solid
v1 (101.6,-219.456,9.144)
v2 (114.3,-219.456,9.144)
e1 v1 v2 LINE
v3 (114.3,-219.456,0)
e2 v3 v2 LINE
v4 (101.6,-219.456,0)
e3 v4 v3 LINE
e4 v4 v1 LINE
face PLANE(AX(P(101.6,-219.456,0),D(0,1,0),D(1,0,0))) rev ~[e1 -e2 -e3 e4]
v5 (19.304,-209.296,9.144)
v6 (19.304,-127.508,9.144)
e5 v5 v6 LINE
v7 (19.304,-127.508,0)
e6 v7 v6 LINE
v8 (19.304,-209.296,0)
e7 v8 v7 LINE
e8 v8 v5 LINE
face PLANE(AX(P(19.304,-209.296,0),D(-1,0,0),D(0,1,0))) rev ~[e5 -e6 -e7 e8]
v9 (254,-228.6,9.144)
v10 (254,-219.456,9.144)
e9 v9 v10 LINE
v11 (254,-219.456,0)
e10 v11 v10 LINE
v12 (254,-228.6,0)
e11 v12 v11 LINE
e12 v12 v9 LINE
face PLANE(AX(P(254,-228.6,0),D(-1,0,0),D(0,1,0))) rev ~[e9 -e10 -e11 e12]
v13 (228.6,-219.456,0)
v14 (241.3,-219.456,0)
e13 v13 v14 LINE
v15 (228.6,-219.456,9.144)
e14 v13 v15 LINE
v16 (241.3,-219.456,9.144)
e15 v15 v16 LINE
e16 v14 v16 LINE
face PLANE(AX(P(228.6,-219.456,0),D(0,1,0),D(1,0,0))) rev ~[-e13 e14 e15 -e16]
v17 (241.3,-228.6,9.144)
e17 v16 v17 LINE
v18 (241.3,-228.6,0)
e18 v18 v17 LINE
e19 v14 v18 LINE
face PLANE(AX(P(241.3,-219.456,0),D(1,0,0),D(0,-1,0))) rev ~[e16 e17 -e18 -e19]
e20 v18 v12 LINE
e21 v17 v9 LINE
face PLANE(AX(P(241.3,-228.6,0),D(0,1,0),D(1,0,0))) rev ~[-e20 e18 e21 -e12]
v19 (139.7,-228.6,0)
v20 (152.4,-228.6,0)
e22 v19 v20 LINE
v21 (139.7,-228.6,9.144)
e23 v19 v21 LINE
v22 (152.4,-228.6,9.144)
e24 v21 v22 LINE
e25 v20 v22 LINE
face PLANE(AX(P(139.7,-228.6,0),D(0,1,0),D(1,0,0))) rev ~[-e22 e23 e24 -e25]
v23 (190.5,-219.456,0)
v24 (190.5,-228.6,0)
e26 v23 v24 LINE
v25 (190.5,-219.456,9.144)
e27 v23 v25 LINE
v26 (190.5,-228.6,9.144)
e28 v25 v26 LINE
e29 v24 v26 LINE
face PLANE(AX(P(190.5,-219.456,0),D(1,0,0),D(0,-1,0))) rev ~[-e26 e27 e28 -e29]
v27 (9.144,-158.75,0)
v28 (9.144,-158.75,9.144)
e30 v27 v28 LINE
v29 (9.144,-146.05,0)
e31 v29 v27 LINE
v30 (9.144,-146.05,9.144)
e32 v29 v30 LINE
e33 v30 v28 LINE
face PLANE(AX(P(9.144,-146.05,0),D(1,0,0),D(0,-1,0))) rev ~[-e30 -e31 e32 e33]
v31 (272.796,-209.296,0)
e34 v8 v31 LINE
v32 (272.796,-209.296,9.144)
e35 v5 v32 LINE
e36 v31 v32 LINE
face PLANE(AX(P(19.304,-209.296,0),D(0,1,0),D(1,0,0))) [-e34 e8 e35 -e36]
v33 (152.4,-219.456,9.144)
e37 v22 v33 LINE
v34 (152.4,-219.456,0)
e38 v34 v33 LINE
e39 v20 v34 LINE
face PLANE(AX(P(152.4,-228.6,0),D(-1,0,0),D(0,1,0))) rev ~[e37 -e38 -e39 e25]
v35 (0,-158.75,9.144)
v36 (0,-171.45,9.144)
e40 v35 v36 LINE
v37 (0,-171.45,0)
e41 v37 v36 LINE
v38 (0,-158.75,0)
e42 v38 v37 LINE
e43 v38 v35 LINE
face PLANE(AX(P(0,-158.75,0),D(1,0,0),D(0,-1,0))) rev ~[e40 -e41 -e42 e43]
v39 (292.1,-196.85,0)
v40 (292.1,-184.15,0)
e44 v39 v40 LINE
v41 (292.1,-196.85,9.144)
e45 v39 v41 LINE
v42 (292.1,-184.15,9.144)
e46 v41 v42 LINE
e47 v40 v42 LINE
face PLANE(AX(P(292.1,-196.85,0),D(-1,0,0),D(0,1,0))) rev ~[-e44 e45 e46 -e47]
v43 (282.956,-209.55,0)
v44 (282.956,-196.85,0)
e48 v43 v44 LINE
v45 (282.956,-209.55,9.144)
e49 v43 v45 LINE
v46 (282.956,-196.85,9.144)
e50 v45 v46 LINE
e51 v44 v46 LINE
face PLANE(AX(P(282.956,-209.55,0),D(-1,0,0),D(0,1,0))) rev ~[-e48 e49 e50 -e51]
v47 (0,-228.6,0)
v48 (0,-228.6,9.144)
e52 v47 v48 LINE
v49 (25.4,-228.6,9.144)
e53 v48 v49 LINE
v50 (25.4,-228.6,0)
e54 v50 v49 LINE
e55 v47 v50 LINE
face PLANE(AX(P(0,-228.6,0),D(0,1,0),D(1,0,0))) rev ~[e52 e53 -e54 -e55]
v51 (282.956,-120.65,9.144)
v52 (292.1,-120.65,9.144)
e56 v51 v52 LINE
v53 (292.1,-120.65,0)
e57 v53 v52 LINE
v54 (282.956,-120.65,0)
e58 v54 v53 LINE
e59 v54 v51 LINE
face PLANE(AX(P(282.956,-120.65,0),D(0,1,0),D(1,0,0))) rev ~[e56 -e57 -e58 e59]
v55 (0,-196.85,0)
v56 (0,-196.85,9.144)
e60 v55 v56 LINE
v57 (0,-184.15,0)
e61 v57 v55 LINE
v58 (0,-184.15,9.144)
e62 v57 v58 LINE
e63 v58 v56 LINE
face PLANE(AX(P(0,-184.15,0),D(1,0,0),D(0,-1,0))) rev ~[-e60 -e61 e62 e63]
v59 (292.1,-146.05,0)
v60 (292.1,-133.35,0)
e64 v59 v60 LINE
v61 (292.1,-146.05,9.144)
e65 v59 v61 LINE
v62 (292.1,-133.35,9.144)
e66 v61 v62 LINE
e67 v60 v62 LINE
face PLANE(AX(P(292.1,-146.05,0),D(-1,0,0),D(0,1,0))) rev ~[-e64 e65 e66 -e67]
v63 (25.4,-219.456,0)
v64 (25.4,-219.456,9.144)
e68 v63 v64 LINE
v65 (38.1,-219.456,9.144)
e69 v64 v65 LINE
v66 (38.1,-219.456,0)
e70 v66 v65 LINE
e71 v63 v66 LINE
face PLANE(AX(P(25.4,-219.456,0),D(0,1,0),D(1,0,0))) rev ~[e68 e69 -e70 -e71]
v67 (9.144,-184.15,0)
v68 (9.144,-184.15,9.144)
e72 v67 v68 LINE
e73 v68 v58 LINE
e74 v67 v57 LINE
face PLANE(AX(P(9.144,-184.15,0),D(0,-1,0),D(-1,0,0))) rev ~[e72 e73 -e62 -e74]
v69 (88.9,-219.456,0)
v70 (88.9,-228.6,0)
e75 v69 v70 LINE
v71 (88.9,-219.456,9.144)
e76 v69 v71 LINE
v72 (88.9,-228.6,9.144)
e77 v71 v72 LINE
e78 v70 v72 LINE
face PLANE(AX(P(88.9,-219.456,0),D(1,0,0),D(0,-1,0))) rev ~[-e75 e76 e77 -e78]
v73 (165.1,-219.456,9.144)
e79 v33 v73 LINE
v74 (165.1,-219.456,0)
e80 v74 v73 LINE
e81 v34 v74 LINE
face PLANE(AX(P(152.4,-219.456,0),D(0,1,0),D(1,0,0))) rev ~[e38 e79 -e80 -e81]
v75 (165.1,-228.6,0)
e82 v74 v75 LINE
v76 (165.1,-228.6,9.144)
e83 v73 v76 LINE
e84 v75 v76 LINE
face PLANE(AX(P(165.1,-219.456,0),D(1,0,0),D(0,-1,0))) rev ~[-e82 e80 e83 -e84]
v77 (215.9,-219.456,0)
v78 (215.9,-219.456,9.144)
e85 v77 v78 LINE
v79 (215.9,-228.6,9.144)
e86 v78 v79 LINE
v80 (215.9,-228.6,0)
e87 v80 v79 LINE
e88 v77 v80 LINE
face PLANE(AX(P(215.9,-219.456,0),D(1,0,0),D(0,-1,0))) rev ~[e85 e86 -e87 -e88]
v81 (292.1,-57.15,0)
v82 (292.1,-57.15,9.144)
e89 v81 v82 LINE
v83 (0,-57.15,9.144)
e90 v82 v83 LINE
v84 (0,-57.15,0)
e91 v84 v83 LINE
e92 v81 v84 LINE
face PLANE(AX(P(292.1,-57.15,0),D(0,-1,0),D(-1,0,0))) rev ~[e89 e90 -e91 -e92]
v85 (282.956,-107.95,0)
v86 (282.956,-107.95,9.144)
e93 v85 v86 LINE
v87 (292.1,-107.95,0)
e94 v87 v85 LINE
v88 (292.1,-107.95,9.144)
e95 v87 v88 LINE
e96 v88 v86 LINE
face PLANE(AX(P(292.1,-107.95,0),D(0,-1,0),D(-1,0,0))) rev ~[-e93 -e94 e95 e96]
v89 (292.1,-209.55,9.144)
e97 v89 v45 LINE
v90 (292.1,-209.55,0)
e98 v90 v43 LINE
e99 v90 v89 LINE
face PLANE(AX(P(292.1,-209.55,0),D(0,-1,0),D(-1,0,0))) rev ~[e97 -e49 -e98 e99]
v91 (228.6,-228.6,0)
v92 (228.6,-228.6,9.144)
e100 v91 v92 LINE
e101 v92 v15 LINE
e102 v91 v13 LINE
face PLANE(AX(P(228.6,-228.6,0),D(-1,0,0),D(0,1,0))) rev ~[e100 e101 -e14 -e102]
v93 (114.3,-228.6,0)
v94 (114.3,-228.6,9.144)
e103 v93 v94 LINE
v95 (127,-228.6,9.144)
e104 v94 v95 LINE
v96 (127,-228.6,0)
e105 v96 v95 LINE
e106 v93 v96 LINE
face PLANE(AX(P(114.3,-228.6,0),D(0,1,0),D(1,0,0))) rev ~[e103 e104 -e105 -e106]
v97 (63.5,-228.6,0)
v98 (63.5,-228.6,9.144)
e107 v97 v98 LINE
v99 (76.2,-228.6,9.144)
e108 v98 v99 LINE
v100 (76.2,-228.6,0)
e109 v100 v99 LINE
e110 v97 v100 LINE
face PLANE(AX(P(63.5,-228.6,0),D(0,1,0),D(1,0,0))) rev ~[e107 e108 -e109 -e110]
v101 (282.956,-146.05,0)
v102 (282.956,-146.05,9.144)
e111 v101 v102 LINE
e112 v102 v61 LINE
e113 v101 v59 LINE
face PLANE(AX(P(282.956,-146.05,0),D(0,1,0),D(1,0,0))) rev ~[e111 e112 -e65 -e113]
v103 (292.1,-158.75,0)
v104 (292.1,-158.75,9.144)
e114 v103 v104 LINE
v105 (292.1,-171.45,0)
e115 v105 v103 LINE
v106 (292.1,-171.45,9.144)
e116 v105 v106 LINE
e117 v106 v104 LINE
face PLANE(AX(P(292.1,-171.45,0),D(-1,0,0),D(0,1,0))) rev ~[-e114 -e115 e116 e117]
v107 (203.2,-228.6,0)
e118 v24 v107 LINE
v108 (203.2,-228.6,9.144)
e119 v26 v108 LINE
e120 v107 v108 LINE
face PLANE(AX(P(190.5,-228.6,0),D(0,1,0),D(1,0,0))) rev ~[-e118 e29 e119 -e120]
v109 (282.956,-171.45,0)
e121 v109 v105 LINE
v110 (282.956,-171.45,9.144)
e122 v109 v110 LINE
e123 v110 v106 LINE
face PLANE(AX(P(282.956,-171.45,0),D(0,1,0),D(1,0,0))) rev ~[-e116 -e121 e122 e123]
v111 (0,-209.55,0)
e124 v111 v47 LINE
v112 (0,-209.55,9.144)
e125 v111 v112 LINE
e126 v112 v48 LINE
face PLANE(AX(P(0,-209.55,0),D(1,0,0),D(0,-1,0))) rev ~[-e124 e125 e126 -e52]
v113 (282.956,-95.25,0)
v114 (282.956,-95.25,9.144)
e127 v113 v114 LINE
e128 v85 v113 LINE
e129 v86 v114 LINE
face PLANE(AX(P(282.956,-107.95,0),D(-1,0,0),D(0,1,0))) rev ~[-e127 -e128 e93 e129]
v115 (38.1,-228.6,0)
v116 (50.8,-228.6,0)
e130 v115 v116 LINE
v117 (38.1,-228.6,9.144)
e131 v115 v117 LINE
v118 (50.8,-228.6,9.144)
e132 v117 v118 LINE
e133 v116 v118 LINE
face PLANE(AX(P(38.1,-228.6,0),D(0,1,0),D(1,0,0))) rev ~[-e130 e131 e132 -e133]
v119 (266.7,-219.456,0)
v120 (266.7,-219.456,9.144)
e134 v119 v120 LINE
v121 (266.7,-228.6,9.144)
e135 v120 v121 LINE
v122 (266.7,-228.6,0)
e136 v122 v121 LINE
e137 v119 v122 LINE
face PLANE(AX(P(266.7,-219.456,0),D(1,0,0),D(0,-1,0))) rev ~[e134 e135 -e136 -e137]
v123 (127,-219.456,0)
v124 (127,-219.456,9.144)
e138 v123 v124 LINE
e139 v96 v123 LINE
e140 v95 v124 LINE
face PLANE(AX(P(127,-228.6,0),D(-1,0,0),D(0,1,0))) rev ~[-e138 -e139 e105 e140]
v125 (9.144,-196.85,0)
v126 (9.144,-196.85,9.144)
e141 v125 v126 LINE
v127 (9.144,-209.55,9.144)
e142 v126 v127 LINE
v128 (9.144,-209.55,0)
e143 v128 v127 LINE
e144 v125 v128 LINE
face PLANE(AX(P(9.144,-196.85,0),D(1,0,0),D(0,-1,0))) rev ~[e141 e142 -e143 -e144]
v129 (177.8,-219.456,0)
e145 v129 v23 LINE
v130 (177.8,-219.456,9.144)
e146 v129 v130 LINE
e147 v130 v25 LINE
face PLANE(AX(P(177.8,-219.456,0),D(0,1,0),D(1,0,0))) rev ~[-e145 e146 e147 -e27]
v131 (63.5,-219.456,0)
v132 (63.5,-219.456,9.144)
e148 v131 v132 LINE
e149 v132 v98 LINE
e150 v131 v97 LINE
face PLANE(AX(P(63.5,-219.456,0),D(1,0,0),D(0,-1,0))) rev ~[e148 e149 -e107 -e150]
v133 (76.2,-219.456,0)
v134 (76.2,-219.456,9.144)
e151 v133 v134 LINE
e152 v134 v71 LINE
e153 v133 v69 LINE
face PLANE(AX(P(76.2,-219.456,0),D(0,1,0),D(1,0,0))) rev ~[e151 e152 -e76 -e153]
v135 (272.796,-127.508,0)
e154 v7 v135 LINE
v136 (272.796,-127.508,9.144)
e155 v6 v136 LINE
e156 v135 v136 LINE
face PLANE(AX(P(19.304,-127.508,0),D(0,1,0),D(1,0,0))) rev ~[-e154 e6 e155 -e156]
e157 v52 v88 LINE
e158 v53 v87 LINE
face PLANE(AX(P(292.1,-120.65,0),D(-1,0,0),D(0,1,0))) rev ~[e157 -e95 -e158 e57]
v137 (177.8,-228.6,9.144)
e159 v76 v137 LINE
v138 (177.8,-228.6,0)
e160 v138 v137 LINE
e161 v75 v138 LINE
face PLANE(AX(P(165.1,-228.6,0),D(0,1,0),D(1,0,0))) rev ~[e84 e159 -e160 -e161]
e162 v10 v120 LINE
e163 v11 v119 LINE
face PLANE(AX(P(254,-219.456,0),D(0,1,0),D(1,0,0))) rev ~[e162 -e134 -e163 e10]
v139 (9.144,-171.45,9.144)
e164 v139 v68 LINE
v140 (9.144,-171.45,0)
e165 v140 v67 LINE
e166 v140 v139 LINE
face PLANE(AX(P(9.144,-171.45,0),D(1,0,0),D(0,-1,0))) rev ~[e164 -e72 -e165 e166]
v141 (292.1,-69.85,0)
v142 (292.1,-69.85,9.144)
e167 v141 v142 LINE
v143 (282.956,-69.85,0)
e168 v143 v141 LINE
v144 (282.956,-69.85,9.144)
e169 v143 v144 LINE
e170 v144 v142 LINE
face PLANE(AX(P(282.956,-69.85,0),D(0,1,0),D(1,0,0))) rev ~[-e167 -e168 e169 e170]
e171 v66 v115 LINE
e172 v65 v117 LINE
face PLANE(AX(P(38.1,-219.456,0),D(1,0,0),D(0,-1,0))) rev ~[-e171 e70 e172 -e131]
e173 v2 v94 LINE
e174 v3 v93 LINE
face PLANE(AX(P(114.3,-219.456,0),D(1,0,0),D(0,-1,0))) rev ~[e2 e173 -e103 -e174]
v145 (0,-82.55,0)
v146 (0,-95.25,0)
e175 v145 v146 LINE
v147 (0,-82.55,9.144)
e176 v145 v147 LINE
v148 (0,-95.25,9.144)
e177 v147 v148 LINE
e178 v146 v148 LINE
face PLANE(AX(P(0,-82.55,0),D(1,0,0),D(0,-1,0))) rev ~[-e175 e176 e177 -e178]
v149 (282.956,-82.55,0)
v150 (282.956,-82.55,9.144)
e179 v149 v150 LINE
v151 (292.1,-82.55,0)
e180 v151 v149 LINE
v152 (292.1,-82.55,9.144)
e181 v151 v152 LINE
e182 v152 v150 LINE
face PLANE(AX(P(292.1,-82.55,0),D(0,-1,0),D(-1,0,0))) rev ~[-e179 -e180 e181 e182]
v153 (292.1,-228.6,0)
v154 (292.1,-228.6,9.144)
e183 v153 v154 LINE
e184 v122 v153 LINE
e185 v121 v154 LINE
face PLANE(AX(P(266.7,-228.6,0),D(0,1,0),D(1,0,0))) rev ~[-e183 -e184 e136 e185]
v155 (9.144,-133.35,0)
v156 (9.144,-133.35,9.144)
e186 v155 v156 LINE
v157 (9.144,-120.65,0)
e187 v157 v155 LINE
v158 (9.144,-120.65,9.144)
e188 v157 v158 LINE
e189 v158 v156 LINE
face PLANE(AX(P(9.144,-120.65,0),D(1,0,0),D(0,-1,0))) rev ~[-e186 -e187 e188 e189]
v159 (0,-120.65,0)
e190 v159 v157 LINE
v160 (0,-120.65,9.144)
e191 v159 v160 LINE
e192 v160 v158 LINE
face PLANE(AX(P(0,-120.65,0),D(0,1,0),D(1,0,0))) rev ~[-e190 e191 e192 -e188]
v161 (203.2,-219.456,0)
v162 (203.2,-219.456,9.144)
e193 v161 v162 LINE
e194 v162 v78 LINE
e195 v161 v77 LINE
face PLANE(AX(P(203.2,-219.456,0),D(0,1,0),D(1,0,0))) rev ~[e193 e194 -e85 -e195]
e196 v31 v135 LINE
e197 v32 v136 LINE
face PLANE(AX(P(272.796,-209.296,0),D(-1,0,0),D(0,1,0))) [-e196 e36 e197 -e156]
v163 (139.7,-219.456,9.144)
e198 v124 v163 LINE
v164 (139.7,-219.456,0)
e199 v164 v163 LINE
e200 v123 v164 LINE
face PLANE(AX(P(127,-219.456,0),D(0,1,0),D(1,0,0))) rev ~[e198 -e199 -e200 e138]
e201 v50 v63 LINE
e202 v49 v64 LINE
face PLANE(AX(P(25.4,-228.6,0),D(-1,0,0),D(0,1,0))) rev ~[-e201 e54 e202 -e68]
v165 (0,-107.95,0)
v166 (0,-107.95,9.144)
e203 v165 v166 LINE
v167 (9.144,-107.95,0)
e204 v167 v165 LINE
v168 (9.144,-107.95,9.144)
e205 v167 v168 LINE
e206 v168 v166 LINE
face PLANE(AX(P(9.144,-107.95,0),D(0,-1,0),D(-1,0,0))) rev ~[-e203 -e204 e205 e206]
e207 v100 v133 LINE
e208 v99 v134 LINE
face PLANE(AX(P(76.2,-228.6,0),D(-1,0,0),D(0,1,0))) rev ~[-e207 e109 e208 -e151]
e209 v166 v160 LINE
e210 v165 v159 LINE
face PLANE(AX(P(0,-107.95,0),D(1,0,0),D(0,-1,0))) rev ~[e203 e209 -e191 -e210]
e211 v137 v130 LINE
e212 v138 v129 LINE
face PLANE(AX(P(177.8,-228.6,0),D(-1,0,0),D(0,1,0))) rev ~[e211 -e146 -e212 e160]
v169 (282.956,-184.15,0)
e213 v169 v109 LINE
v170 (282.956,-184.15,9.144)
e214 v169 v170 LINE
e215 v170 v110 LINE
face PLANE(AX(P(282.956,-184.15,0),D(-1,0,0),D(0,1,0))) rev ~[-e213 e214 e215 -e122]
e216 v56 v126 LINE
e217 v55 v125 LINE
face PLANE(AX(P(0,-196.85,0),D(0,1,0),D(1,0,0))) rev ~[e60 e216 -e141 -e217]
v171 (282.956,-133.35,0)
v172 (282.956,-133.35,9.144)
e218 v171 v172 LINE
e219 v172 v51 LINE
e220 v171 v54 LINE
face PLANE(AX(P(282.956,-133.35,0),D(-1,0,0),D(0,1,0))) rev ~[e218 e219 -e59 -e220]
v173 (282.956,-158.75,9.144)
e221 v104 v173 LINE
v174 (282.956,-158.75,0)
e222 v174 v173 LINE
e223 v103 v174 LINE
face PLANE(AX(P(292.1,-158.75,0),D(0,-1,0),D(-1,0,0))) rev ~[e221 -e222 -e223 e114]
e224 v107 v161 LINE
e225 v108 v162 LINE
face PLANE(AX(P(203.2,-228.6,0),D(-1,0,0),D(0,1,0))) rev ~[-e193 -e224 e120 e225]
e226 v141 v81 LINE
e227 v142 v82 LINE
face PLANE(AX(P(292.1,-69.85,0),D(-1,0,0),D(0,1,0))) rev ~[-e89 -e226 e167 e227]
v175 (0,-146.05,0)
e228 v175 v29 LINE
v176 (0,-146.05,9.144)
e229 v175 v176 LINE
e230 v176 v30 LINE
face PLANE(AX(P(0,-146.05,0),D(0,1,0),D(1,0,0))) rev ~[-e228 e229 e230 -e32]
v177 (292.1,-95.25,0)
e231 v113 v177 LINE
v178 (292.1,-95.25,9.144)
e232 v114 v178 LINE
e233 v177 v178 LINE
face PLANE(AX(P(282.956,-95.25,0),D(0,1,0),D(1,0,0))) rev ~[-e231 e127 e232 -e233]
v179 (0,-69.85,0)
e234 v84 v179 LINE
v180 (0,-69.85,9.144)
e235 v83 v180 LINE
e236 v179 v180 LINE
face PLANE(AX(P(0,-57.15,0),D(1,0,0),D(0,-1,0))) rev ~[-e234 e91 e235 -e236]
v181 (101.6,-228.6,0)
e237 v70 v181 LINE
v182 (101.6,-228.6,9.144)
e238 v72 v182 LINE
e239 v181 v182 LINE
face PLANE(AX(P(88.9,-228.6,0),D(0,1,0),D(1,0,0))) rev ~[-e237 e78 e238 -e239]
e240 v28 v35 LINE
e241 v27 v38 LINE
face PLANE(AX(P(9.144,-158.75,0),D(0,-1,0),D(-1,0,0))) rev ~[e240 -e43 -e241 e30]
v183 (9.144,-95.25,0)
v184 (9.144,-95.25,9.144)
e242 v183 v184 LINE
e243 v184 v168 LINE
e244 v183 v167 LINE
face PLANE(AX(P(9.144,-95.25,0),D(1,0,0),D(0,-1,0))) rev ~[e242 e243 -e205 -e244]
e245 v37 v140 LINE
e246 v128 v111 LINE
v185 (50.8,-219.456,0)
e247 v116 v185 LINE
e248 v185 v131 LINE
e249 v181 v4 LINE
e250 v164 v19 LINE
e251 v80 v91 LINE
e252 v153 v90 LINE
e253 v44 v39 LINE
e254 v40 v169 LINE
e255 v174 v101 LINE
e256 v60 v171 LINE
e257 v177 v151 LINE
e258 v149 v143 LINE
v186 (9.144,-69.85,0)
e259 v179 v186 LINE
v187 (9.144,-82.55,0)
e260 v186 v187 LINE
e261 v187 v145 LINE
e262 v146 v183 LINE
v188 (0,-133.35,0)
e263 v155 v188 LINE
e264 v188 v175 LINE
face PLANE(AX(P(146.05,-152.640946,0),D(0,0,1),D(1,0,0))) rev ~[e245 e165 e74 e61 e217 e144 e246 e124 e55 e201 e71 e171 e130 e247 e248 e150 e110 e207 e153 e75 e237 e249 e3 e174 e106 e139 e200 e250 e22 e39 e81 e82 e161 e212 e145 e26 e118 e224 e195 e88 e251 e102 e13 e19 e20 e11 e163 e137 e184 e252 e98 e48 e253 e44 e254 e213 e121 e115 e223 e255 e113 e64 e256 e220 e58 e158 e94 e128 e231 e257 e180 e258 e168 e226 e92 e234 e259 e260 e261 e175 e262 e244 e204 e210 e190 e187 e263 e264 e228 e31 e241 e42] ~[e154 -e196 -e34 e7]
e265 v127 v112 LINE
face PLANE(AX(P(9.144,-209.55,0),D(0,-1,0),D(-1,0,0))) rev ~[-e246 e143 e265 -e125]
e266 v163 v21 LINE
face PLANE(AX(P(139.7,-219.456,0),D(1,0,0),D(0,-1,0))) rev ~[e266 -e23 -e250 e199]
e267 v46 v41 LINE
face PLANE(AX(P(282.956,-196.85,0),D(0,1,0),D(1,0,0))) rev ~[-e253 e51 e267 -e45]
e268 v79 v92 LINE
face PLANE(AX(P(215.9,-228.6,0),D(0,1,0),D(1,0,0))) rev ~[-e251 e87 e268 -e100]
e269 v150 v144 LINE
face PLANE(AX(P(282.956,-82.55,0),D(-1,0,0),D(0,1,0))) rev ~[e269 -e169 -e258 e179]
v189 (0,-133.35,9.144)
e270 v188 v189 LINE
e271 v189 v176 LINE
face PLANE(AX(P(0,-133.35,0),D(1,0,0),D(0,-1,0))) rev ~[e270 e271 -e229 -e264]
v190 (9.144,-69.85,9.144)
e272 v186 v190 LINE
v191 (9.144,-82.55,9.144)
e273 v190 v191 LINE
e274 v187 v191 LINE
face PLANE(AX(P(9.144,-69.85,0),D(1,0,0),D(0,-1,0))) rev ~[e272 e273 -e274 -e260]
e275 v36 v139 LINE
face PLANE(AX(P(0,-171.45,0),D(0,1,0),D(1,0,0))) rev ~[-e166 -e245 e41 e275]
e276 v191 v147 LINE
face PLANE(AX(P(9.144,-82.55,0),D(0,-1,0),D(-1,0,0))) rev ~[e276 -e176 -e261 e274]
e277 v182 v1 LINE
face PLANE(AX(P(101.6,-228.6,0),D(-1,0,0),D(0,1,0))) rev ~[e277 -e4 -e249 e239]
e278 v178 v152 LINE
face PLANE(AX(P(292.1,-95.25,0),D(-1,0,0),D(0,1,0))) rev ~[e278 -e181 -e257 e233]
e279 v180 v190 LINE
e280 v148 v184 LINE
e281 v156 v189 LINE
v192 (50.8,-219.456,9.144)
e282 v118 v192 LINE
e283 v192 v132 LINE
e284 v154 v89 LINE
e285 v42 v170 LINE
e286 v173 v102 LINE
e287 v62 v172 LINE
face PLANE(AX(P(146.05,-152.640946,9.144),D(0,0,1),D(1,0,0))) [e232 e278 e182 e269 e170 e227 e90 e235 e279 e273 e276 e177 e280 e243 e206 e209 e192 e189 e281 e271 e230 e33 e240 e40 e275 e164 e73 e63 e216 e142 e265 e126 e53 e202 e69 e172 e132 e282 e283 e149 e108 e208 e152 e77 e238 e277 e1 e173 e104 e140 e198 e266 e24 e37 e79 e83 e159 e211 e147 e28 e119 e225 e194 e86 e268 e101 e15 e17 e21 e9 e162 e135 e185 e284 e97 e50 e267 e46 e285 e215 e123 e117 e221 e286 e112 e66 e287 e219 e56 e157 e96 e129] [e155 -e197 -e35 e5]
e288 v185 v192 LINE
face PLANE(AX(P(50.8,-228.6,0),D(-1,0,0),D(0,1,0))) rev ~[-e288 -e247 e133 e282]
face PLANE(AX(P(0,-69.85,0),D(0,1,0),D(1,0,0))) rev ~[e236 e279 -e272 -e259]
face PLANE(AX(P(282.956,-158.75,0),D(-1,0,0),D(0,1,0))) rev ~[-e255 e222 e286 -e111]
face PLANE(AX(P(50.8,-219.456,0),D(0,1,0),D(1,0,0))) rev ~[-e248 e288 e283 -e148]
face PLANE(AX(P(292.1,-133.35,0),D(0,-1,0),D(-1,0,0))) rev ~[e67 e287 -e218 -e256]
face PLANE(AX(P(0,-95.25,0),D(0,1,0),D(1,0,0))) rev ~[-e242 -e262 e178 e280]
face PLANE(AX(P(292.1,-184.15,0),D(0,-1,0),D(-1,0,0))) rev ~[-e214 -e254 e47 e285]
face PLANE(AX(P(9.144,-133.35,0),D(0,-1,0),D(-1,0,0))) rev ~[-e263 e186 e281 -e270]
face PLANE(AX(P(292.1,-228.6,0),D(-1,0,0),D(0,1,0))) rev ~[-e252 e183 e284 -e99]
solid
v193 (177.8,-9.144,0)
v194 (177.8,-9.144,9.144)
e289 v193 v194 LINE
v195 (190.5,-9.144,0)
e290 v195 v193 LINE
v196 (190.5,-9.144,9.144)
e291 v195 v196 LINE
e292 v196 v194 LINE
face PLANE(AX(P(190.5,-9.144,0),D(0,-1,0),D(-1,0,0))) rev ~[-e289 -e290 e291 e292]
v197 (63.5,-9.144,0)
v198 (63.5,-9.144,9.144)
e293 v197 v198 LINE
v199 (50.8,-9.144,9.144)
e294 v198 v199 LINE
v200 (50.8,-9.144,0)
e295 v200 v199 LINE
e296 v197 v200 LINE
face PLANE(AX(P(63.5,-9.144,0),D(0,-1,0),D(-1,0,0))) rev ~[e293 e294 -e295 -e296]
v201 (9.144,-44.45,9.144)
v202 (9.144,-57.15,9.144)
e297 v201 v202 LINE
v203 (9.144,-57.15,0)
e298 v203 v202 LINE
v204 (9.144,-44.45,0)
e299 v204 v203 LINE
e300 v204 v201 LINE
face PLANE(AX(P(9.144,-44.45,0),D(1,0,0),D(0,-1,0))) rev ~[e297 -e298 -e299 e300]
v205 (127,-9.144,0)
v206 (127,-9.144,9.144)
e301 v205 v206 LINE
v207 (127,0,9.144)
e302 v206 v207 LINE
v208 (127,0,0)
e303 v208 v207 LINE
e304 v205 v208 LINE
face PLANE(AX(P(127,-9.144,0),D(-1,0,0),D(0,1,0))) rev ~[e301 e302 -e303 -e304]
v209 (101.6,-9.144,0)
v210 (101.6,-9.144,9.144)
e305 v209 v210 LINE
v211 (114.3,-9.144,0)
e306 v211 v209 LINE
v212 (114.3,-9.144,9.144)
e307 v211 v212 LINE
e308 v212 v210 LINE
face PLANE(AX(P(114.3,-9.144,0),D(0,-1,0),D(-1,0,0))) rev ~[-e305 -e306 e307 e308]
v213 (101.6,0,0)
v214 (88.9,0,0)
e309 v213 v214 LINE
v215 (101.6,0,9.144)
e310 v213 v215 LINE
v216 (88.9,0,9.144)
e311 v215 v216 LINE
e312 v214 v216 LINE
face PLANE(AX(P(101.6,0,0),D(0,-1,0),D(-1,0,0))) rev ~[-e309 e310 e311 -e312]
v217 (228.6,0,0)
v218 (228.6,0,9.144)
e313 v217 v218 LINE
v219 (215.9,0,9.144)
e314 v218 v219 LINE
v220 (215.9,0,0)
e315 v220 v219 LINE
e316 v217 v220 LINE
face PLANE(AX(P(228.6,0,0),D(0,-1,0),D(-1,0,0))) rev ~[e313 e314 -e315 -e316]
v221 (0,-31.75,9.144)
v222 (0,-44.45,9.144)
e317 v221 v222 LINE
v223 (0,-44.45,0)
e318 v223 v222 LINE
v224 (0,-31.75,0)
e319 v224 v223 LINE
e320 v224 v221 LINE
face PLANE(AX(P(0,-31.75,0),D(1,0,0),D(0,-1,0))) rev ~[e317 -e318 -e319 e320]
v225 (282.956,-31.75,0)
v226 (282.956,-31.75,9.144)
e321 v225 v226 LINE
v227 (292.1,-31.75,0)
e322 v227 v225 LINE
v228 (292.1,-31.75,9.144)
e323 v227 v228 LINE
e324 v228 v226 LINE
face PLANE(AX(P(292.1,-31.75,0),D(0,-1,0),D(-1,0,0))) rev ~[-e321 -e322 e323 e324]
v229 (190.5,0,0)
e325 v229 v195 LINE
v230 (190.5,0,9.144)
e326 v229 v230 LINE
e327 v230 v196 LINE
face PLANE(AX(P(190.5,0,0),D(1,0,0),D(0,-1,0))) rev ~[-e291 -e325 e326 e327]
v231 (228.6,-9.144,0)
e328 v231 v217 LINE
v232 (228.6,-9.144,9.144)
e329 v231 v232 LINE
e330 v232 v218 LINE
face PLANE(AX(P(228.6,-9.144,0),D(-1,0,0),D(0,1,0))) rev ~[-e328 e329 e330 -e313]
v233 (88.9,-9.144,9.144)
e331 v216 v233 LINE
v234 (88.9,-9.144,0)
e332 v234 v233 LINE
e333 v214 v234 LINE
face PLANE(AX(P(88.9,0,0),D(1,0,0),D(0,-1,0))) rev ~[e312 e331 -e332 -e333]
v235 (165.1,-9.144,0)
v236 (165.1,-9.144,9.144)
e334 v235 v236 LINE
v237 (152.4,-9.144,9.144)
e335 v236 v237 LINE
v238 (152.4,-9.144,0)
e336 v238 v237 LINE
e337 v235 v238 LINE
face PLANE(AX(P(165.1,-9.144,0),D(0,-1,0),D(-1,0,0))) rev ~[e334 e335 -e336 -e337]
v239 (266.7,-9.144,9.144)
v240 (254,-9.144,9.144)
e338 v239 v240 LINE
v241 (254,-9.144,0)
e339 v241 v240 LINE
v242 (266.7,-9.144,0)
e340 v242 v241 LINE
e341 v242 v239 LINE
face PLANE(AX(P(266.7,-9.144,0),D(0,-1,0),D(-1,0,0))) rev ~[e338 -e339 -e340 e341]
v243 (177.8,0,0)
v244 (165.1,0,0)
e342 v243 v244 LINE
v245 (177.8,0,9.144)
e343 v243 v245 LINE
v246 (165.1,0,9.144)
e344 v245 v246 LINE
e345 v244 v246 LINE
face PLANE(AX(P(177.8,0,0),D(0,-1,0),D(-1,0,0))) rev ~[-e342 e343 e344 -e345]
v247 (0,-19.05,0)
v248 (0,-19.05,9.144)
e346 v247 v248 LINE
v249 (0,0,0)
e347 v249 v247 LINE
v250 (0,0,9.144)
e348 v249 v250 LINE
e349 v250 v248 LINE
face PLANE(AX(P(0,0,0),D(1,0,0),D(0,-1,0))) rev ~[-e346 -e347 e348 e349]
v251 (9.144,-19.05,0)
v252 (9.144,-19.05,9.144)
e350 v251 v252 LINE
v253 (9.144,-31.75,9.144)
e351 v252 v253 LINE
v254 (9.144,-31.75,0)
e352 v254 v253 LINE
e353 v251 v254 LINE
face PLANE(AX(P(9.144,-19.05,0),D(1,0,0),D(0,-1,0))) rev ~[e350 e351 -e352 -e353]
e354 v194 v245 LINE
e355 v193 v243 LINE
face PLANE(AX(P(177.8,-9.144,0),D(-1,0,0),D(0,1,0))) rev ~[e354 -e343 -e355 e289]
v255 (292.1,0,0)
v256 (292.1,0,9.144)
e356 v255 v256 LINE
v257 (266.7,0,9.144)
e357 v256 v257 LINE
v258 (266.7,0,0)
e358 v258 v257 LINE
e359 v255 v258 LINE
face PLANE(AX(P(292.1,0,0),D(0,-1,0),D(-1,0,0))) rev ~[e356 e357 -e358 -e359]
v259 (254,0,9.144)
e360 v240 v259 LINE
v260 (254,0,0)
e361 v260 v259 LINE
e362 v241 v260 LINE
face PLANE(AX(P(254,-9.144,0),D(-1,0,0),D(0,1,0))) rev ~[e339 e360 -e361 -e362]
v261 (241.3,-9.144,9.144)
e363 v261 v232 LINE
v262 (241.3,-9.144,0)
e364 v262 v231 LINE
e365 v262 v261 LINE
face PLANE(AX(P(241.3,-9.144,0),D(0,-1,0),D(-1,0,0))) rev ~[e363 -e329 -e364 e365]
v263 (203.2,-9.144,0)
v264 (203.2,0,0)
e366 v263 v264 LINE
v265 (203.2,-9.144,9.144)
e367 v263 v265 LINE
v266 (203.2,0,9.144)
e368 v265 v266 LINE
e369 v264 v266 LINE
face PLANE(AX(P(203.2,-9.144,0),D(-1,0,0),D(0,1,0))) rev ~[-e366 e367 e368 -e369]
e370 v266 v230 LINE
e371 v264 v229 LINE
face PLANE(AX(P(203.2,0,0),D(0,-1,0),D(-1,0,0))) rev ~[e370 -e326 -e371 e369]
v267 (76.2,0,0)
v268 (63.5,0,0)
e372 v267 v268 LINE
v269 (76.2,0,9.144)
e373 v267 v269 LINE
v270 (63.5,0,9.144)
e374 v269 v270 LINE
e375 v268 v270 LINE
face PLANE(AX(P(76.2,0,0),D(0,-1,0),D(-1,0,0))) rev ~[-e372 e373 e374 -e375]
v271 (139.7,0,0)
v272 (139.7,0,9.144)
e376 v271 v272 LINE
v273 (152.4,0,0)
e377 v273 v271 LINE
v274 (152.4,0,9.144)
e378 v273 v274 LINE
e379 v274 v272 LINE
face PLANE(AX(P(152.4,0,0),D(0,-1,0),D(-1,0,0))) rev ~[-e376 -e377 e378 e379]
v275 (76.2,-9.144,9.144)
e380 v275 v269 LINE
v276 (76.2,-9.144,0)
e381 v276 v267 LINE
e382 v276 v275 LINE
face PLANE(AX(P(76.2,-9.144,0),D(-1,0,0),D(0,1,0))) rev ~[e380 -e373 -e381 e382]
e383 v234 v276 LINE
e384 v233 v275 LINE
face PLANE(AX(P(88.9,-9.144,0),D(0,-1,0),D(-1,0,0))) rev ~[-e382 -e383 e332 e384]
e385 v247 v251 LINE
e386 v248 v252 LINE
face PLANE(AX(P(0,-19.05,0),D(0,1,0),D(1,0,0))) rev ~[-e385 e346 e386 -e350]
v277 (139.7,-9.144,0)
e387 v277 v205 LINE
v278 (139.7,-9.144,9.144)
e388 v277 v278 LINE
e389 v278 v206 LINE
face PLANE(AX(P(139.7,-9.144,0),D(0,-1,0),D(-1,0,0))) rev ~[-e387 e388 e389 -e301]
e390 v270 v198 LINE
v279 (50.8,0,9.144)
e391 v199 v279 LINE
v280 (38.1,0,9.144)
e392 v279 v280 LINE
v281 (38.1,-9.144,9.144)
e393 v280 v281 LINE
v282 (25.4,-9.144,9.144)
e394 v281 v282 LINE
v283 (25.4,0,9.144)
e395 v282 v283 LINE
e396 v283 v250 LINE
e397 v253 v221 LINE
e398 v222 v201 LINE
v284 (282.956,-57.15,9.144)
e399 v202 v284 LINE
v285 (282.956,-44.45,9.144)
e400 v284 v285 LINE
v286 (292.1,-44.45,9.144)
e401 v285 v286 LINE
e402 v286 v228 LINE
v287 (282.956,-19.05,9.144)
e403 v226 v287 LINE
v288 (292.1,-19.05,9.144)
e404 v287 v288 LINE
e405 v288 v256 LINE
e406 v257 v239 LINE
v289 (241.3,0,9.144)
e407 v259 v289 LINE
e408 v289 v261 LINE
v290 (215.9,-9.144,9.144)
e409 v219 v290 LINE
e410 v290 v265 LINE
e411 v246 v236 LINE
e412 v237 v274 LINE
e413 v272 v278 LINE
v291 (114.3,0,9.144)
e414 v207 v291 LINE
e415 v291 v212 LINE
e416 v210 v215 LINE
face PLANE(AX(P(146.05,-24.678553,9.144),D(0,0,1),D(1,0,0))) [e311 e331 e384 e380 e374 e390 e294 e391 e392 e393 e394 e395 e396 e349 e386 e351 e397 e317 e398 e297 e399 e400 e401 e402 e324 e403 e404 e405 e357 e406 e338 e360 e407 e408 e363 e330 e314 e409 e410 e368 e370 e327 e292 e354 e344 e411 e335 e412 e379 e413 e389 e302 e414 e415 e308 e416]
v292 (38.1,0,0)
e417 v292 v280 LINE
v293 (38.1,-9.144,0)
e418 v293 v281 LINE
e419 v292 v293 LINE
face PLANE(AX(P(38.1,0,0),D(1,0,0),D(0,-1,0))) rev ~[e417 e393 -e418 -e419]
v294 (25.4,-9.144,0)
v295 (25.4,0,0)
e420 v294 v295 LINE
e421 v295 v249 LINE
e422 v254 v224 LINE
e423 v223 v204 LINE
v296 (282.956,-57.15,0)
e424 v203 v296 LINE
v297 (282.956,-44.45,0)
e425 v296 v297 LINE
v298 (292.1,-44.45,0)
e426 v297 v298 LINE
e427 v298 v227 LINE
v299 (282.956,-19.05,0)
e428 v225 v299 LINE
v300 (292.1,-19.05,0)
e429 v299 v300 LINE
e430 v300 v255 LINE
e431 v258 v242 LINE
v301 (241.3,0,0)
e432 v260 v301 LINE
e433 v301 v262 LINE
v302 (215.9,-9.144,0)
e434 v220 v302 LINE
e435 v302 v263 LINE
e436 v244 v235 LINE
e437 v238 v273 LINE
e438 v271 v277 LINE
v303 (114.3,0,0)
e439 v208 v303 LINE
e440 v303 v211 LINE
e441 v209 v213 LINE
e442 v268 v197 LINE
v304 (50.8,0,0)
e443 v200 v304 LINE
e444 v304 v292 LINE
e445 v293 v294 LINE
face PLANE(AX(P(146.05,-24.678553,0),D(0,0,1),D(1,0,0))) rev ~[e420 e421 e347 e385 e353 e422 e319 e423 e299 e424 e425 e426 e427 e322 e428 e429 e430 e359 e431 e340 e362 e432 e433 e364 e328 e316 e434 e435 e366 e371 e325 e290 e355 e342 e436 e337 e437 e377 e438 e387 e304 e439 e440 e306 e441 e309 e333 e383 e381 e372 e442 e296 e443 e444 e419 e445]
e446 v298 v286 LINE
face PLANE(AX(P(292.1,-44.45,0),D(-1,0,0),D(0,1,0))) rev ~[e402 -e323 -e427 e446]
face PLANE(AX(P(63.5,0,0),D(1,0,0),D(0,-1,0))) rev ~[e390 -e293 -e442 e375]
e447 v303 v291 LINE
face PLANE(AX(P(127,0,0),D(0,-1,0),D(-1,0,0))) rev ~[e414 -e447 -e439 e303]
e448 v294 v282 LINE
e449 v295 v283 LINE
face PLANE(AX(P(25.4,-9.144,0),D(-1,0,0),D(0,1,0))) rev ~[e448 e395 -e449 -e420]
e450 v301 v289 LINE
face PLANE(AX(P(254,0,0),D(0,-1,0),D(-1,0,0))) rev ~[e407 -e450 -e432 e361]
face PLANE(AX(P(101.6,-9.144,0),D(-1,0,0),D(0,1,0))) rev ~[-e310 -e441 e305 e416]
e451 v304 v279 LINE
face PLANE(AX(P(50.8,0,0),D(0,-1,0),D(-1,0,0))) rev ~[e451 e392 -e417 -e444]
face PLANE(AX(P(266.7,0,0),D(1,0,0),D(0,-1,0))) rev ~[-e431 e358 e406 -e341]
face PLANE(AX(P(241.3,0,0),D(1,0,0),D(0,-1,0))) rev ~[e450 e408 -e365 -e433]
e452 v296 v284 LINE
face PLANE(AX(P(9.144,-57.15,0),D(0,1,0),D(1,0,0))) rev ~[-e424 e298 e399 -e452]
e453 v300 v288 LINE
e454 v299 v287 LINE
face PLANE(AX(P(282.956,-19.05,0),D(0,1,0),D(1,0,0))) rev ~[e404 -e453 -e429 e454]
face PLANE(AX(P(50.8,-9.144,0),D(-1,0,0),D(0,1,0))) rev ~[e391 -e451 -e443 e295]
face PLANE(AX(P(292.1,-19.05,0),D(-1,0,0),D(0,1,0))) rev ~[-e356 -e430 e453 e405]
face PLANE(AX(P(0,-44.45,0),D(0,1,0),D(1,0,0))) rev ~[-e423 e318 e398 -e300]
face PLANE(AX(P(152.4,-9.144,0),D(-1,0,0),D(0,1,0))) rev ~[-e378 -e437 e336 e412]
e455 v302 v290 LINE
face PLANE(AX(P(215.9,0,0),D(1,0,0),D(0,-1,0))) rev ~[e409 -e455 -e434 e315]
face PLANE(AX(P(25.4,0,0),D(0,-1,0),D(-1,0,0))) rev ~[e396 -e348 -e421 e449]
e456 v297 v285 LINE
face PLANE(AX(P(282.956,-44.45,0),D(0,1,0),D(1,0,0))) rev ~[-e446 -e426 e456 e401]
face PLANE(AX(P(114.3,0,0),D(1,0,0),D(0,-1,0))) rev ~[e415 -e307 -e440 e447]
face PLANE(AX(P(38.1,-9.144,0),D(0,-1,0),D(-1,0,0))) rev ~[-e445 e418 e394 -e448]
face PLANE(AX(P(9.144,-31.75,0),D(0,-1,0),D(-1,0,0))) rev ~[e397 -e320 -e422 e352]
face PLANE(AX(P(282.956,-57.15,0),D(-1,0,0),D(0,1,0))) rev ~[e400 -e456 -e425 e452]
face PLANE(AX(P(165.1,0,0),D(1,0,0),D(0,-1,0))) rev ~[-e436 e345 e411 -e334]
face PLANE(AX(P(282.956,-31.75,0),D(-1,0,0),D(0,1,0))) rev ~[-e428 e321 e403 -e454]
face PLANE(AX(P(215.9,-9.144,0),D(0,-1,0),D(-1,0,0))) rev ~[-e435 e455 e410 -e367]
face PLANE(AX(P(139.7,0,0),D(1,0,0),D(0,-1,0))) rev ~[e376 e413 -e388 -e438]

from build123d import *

# Parameters (mm, degrees)
F1_DEPTH = 9.144
F0_W     = 253.492
F0_H     = 81.788
F2_DEPTH = 9.144


with BuildPart() as f1:
    # F0 (on Top) → F1 (new body)
    with BuildSketch(Plane.XY):
        Polygon((25.4, 0), (0, 0), (0, -19.05), (9.144, -19.05), (9.144, -31.75), (0, -31.75), (0, -44.45), (9.144, -44.45), (9.144, -57.15), (282.956, -57.15), (282.956, -44.45), (292.1, -44.45), (292.1, -31.75), (282.956, -31.75), (282.956, -19.05), (292.1, -19.05), (292.1, 0), (266.7, 0), (266.7, -9.144), (254, -9.144), (254, 0), (241.3, 0), (241.3, -9.144), (228.6, -9.144), (228.6, 0), (215.9, 0), (215.9, -9.144), (203.2, -9.144), (203.2, 0), (190.5, 0), (190.5, -9.144), (177.8, -9.144), (177.8, 0), (165.1, 0), (165.1, -9.144), (152.4, -9.144), (152.4, 0), (139.7, 0), (139.7, -9.144), (127, -9.144), (127, 0), (114.3, 0), (114.3, -9.144), (101.6, -9.144), (101.6, 0), (88.9, 0), (88.9, -9.144), (76.2, -9.144), (76.2, 0), (63.5, 0), (63.5, -9.144), (50.8, -9.144), (50.8, 0), (38.1, 0), (38.1, -9.144), (25.4, -9.144), align=None)
    extrude(amount=F1_DEPTH)


with BuildPart() as f2:
    # F0 (on Top) → F2 (new body)
    with BuildSketch(Plane.XY):
        Polygon((282.956, -57.15), (9.144, -57.15), (0, -57.15), (0, -69.85), (9.144, -69.85), (9.144, -82.55), (0, -82.55), (0, -95.25), (9.144, -95.25), (9.144, -107.95), (0, -107.95), (0, -120.65), (9.144, -120.65), (9.144, -133.35), (0, -133.35), (0, -146.05), (9.144, -146.05), (9.144, -158.75), (0, -158.75), (0, -171.45), (9.144, -171.45), (9.144, -184.15), (0, -184.15), (0, -196.85), (9.144, -196.85), (9.144, -209.55), (0, -209.55), (0, -228.6), (25.4, -228.6), (25.4, -219.456), (38.1, -219.456), (38.1, -228.6), (50.8, -228.6), (50.8, -219.456), (63.5, -219.456), (63.5, -228.6), (76.2, -228.6), (76.2, -219.456), (88.9, -219.456), (88.9, -228.6), (101.6, -228.6), (101.6, -219.456), (114.3, -219.456), (114.3, -228.6), (127, -228.6), (127, -219.456), (139.7, -219.456), (139.7, -228.6), (152.4, -228.6), (152.4, -219.456), (165.1, -219.456), (165.1, -228.6), (177.8, -228.6), (177.8, -219.456), (190.5, -219.456), (190.5, -228.6), (203.2, -228.6), (203.2, -219.456), (215.9, -219.456), (215.9, -228.6), (228.6, -228.6), (228.6, -219.456), (241.3, -219.456), (241.3, -228.6), (254, -228.6), (254, -219.456), (266.7, -219.456), (266.7, -228.6), (292.1, -228.6), (292.1, -209.55), (282.956, -209.55), (282.956, -196.85), (292.1, -196.85), (292.1, -184.15), (282.956, -184.15), (282.956, -171.45), (292.1, -171.45), (292.1, -158.75), (282.956, -158.75), (282.956, -146.05), (292.1, -146.05), (292.1, -133.35), (282.956, -133.35), (282.956, -120.65), (292.1, -120.65), (292.1, -107.95), (282.956, -107.95), (282.956, -95.25), (292.1, -95.25), (292.1, -82.55), (282.956, -82.55), (282.956, -69.85), (292.1, -69.85), (292.1, -57.15), align=None)
        with Locations((146.05, -168.402)):
            Rectangle(F0_W, F0_H, mode=Mode.SUBTRACT)
    extrude(amount=F2_DEPTH)


solid = Compound([f1.part, f2.part])
